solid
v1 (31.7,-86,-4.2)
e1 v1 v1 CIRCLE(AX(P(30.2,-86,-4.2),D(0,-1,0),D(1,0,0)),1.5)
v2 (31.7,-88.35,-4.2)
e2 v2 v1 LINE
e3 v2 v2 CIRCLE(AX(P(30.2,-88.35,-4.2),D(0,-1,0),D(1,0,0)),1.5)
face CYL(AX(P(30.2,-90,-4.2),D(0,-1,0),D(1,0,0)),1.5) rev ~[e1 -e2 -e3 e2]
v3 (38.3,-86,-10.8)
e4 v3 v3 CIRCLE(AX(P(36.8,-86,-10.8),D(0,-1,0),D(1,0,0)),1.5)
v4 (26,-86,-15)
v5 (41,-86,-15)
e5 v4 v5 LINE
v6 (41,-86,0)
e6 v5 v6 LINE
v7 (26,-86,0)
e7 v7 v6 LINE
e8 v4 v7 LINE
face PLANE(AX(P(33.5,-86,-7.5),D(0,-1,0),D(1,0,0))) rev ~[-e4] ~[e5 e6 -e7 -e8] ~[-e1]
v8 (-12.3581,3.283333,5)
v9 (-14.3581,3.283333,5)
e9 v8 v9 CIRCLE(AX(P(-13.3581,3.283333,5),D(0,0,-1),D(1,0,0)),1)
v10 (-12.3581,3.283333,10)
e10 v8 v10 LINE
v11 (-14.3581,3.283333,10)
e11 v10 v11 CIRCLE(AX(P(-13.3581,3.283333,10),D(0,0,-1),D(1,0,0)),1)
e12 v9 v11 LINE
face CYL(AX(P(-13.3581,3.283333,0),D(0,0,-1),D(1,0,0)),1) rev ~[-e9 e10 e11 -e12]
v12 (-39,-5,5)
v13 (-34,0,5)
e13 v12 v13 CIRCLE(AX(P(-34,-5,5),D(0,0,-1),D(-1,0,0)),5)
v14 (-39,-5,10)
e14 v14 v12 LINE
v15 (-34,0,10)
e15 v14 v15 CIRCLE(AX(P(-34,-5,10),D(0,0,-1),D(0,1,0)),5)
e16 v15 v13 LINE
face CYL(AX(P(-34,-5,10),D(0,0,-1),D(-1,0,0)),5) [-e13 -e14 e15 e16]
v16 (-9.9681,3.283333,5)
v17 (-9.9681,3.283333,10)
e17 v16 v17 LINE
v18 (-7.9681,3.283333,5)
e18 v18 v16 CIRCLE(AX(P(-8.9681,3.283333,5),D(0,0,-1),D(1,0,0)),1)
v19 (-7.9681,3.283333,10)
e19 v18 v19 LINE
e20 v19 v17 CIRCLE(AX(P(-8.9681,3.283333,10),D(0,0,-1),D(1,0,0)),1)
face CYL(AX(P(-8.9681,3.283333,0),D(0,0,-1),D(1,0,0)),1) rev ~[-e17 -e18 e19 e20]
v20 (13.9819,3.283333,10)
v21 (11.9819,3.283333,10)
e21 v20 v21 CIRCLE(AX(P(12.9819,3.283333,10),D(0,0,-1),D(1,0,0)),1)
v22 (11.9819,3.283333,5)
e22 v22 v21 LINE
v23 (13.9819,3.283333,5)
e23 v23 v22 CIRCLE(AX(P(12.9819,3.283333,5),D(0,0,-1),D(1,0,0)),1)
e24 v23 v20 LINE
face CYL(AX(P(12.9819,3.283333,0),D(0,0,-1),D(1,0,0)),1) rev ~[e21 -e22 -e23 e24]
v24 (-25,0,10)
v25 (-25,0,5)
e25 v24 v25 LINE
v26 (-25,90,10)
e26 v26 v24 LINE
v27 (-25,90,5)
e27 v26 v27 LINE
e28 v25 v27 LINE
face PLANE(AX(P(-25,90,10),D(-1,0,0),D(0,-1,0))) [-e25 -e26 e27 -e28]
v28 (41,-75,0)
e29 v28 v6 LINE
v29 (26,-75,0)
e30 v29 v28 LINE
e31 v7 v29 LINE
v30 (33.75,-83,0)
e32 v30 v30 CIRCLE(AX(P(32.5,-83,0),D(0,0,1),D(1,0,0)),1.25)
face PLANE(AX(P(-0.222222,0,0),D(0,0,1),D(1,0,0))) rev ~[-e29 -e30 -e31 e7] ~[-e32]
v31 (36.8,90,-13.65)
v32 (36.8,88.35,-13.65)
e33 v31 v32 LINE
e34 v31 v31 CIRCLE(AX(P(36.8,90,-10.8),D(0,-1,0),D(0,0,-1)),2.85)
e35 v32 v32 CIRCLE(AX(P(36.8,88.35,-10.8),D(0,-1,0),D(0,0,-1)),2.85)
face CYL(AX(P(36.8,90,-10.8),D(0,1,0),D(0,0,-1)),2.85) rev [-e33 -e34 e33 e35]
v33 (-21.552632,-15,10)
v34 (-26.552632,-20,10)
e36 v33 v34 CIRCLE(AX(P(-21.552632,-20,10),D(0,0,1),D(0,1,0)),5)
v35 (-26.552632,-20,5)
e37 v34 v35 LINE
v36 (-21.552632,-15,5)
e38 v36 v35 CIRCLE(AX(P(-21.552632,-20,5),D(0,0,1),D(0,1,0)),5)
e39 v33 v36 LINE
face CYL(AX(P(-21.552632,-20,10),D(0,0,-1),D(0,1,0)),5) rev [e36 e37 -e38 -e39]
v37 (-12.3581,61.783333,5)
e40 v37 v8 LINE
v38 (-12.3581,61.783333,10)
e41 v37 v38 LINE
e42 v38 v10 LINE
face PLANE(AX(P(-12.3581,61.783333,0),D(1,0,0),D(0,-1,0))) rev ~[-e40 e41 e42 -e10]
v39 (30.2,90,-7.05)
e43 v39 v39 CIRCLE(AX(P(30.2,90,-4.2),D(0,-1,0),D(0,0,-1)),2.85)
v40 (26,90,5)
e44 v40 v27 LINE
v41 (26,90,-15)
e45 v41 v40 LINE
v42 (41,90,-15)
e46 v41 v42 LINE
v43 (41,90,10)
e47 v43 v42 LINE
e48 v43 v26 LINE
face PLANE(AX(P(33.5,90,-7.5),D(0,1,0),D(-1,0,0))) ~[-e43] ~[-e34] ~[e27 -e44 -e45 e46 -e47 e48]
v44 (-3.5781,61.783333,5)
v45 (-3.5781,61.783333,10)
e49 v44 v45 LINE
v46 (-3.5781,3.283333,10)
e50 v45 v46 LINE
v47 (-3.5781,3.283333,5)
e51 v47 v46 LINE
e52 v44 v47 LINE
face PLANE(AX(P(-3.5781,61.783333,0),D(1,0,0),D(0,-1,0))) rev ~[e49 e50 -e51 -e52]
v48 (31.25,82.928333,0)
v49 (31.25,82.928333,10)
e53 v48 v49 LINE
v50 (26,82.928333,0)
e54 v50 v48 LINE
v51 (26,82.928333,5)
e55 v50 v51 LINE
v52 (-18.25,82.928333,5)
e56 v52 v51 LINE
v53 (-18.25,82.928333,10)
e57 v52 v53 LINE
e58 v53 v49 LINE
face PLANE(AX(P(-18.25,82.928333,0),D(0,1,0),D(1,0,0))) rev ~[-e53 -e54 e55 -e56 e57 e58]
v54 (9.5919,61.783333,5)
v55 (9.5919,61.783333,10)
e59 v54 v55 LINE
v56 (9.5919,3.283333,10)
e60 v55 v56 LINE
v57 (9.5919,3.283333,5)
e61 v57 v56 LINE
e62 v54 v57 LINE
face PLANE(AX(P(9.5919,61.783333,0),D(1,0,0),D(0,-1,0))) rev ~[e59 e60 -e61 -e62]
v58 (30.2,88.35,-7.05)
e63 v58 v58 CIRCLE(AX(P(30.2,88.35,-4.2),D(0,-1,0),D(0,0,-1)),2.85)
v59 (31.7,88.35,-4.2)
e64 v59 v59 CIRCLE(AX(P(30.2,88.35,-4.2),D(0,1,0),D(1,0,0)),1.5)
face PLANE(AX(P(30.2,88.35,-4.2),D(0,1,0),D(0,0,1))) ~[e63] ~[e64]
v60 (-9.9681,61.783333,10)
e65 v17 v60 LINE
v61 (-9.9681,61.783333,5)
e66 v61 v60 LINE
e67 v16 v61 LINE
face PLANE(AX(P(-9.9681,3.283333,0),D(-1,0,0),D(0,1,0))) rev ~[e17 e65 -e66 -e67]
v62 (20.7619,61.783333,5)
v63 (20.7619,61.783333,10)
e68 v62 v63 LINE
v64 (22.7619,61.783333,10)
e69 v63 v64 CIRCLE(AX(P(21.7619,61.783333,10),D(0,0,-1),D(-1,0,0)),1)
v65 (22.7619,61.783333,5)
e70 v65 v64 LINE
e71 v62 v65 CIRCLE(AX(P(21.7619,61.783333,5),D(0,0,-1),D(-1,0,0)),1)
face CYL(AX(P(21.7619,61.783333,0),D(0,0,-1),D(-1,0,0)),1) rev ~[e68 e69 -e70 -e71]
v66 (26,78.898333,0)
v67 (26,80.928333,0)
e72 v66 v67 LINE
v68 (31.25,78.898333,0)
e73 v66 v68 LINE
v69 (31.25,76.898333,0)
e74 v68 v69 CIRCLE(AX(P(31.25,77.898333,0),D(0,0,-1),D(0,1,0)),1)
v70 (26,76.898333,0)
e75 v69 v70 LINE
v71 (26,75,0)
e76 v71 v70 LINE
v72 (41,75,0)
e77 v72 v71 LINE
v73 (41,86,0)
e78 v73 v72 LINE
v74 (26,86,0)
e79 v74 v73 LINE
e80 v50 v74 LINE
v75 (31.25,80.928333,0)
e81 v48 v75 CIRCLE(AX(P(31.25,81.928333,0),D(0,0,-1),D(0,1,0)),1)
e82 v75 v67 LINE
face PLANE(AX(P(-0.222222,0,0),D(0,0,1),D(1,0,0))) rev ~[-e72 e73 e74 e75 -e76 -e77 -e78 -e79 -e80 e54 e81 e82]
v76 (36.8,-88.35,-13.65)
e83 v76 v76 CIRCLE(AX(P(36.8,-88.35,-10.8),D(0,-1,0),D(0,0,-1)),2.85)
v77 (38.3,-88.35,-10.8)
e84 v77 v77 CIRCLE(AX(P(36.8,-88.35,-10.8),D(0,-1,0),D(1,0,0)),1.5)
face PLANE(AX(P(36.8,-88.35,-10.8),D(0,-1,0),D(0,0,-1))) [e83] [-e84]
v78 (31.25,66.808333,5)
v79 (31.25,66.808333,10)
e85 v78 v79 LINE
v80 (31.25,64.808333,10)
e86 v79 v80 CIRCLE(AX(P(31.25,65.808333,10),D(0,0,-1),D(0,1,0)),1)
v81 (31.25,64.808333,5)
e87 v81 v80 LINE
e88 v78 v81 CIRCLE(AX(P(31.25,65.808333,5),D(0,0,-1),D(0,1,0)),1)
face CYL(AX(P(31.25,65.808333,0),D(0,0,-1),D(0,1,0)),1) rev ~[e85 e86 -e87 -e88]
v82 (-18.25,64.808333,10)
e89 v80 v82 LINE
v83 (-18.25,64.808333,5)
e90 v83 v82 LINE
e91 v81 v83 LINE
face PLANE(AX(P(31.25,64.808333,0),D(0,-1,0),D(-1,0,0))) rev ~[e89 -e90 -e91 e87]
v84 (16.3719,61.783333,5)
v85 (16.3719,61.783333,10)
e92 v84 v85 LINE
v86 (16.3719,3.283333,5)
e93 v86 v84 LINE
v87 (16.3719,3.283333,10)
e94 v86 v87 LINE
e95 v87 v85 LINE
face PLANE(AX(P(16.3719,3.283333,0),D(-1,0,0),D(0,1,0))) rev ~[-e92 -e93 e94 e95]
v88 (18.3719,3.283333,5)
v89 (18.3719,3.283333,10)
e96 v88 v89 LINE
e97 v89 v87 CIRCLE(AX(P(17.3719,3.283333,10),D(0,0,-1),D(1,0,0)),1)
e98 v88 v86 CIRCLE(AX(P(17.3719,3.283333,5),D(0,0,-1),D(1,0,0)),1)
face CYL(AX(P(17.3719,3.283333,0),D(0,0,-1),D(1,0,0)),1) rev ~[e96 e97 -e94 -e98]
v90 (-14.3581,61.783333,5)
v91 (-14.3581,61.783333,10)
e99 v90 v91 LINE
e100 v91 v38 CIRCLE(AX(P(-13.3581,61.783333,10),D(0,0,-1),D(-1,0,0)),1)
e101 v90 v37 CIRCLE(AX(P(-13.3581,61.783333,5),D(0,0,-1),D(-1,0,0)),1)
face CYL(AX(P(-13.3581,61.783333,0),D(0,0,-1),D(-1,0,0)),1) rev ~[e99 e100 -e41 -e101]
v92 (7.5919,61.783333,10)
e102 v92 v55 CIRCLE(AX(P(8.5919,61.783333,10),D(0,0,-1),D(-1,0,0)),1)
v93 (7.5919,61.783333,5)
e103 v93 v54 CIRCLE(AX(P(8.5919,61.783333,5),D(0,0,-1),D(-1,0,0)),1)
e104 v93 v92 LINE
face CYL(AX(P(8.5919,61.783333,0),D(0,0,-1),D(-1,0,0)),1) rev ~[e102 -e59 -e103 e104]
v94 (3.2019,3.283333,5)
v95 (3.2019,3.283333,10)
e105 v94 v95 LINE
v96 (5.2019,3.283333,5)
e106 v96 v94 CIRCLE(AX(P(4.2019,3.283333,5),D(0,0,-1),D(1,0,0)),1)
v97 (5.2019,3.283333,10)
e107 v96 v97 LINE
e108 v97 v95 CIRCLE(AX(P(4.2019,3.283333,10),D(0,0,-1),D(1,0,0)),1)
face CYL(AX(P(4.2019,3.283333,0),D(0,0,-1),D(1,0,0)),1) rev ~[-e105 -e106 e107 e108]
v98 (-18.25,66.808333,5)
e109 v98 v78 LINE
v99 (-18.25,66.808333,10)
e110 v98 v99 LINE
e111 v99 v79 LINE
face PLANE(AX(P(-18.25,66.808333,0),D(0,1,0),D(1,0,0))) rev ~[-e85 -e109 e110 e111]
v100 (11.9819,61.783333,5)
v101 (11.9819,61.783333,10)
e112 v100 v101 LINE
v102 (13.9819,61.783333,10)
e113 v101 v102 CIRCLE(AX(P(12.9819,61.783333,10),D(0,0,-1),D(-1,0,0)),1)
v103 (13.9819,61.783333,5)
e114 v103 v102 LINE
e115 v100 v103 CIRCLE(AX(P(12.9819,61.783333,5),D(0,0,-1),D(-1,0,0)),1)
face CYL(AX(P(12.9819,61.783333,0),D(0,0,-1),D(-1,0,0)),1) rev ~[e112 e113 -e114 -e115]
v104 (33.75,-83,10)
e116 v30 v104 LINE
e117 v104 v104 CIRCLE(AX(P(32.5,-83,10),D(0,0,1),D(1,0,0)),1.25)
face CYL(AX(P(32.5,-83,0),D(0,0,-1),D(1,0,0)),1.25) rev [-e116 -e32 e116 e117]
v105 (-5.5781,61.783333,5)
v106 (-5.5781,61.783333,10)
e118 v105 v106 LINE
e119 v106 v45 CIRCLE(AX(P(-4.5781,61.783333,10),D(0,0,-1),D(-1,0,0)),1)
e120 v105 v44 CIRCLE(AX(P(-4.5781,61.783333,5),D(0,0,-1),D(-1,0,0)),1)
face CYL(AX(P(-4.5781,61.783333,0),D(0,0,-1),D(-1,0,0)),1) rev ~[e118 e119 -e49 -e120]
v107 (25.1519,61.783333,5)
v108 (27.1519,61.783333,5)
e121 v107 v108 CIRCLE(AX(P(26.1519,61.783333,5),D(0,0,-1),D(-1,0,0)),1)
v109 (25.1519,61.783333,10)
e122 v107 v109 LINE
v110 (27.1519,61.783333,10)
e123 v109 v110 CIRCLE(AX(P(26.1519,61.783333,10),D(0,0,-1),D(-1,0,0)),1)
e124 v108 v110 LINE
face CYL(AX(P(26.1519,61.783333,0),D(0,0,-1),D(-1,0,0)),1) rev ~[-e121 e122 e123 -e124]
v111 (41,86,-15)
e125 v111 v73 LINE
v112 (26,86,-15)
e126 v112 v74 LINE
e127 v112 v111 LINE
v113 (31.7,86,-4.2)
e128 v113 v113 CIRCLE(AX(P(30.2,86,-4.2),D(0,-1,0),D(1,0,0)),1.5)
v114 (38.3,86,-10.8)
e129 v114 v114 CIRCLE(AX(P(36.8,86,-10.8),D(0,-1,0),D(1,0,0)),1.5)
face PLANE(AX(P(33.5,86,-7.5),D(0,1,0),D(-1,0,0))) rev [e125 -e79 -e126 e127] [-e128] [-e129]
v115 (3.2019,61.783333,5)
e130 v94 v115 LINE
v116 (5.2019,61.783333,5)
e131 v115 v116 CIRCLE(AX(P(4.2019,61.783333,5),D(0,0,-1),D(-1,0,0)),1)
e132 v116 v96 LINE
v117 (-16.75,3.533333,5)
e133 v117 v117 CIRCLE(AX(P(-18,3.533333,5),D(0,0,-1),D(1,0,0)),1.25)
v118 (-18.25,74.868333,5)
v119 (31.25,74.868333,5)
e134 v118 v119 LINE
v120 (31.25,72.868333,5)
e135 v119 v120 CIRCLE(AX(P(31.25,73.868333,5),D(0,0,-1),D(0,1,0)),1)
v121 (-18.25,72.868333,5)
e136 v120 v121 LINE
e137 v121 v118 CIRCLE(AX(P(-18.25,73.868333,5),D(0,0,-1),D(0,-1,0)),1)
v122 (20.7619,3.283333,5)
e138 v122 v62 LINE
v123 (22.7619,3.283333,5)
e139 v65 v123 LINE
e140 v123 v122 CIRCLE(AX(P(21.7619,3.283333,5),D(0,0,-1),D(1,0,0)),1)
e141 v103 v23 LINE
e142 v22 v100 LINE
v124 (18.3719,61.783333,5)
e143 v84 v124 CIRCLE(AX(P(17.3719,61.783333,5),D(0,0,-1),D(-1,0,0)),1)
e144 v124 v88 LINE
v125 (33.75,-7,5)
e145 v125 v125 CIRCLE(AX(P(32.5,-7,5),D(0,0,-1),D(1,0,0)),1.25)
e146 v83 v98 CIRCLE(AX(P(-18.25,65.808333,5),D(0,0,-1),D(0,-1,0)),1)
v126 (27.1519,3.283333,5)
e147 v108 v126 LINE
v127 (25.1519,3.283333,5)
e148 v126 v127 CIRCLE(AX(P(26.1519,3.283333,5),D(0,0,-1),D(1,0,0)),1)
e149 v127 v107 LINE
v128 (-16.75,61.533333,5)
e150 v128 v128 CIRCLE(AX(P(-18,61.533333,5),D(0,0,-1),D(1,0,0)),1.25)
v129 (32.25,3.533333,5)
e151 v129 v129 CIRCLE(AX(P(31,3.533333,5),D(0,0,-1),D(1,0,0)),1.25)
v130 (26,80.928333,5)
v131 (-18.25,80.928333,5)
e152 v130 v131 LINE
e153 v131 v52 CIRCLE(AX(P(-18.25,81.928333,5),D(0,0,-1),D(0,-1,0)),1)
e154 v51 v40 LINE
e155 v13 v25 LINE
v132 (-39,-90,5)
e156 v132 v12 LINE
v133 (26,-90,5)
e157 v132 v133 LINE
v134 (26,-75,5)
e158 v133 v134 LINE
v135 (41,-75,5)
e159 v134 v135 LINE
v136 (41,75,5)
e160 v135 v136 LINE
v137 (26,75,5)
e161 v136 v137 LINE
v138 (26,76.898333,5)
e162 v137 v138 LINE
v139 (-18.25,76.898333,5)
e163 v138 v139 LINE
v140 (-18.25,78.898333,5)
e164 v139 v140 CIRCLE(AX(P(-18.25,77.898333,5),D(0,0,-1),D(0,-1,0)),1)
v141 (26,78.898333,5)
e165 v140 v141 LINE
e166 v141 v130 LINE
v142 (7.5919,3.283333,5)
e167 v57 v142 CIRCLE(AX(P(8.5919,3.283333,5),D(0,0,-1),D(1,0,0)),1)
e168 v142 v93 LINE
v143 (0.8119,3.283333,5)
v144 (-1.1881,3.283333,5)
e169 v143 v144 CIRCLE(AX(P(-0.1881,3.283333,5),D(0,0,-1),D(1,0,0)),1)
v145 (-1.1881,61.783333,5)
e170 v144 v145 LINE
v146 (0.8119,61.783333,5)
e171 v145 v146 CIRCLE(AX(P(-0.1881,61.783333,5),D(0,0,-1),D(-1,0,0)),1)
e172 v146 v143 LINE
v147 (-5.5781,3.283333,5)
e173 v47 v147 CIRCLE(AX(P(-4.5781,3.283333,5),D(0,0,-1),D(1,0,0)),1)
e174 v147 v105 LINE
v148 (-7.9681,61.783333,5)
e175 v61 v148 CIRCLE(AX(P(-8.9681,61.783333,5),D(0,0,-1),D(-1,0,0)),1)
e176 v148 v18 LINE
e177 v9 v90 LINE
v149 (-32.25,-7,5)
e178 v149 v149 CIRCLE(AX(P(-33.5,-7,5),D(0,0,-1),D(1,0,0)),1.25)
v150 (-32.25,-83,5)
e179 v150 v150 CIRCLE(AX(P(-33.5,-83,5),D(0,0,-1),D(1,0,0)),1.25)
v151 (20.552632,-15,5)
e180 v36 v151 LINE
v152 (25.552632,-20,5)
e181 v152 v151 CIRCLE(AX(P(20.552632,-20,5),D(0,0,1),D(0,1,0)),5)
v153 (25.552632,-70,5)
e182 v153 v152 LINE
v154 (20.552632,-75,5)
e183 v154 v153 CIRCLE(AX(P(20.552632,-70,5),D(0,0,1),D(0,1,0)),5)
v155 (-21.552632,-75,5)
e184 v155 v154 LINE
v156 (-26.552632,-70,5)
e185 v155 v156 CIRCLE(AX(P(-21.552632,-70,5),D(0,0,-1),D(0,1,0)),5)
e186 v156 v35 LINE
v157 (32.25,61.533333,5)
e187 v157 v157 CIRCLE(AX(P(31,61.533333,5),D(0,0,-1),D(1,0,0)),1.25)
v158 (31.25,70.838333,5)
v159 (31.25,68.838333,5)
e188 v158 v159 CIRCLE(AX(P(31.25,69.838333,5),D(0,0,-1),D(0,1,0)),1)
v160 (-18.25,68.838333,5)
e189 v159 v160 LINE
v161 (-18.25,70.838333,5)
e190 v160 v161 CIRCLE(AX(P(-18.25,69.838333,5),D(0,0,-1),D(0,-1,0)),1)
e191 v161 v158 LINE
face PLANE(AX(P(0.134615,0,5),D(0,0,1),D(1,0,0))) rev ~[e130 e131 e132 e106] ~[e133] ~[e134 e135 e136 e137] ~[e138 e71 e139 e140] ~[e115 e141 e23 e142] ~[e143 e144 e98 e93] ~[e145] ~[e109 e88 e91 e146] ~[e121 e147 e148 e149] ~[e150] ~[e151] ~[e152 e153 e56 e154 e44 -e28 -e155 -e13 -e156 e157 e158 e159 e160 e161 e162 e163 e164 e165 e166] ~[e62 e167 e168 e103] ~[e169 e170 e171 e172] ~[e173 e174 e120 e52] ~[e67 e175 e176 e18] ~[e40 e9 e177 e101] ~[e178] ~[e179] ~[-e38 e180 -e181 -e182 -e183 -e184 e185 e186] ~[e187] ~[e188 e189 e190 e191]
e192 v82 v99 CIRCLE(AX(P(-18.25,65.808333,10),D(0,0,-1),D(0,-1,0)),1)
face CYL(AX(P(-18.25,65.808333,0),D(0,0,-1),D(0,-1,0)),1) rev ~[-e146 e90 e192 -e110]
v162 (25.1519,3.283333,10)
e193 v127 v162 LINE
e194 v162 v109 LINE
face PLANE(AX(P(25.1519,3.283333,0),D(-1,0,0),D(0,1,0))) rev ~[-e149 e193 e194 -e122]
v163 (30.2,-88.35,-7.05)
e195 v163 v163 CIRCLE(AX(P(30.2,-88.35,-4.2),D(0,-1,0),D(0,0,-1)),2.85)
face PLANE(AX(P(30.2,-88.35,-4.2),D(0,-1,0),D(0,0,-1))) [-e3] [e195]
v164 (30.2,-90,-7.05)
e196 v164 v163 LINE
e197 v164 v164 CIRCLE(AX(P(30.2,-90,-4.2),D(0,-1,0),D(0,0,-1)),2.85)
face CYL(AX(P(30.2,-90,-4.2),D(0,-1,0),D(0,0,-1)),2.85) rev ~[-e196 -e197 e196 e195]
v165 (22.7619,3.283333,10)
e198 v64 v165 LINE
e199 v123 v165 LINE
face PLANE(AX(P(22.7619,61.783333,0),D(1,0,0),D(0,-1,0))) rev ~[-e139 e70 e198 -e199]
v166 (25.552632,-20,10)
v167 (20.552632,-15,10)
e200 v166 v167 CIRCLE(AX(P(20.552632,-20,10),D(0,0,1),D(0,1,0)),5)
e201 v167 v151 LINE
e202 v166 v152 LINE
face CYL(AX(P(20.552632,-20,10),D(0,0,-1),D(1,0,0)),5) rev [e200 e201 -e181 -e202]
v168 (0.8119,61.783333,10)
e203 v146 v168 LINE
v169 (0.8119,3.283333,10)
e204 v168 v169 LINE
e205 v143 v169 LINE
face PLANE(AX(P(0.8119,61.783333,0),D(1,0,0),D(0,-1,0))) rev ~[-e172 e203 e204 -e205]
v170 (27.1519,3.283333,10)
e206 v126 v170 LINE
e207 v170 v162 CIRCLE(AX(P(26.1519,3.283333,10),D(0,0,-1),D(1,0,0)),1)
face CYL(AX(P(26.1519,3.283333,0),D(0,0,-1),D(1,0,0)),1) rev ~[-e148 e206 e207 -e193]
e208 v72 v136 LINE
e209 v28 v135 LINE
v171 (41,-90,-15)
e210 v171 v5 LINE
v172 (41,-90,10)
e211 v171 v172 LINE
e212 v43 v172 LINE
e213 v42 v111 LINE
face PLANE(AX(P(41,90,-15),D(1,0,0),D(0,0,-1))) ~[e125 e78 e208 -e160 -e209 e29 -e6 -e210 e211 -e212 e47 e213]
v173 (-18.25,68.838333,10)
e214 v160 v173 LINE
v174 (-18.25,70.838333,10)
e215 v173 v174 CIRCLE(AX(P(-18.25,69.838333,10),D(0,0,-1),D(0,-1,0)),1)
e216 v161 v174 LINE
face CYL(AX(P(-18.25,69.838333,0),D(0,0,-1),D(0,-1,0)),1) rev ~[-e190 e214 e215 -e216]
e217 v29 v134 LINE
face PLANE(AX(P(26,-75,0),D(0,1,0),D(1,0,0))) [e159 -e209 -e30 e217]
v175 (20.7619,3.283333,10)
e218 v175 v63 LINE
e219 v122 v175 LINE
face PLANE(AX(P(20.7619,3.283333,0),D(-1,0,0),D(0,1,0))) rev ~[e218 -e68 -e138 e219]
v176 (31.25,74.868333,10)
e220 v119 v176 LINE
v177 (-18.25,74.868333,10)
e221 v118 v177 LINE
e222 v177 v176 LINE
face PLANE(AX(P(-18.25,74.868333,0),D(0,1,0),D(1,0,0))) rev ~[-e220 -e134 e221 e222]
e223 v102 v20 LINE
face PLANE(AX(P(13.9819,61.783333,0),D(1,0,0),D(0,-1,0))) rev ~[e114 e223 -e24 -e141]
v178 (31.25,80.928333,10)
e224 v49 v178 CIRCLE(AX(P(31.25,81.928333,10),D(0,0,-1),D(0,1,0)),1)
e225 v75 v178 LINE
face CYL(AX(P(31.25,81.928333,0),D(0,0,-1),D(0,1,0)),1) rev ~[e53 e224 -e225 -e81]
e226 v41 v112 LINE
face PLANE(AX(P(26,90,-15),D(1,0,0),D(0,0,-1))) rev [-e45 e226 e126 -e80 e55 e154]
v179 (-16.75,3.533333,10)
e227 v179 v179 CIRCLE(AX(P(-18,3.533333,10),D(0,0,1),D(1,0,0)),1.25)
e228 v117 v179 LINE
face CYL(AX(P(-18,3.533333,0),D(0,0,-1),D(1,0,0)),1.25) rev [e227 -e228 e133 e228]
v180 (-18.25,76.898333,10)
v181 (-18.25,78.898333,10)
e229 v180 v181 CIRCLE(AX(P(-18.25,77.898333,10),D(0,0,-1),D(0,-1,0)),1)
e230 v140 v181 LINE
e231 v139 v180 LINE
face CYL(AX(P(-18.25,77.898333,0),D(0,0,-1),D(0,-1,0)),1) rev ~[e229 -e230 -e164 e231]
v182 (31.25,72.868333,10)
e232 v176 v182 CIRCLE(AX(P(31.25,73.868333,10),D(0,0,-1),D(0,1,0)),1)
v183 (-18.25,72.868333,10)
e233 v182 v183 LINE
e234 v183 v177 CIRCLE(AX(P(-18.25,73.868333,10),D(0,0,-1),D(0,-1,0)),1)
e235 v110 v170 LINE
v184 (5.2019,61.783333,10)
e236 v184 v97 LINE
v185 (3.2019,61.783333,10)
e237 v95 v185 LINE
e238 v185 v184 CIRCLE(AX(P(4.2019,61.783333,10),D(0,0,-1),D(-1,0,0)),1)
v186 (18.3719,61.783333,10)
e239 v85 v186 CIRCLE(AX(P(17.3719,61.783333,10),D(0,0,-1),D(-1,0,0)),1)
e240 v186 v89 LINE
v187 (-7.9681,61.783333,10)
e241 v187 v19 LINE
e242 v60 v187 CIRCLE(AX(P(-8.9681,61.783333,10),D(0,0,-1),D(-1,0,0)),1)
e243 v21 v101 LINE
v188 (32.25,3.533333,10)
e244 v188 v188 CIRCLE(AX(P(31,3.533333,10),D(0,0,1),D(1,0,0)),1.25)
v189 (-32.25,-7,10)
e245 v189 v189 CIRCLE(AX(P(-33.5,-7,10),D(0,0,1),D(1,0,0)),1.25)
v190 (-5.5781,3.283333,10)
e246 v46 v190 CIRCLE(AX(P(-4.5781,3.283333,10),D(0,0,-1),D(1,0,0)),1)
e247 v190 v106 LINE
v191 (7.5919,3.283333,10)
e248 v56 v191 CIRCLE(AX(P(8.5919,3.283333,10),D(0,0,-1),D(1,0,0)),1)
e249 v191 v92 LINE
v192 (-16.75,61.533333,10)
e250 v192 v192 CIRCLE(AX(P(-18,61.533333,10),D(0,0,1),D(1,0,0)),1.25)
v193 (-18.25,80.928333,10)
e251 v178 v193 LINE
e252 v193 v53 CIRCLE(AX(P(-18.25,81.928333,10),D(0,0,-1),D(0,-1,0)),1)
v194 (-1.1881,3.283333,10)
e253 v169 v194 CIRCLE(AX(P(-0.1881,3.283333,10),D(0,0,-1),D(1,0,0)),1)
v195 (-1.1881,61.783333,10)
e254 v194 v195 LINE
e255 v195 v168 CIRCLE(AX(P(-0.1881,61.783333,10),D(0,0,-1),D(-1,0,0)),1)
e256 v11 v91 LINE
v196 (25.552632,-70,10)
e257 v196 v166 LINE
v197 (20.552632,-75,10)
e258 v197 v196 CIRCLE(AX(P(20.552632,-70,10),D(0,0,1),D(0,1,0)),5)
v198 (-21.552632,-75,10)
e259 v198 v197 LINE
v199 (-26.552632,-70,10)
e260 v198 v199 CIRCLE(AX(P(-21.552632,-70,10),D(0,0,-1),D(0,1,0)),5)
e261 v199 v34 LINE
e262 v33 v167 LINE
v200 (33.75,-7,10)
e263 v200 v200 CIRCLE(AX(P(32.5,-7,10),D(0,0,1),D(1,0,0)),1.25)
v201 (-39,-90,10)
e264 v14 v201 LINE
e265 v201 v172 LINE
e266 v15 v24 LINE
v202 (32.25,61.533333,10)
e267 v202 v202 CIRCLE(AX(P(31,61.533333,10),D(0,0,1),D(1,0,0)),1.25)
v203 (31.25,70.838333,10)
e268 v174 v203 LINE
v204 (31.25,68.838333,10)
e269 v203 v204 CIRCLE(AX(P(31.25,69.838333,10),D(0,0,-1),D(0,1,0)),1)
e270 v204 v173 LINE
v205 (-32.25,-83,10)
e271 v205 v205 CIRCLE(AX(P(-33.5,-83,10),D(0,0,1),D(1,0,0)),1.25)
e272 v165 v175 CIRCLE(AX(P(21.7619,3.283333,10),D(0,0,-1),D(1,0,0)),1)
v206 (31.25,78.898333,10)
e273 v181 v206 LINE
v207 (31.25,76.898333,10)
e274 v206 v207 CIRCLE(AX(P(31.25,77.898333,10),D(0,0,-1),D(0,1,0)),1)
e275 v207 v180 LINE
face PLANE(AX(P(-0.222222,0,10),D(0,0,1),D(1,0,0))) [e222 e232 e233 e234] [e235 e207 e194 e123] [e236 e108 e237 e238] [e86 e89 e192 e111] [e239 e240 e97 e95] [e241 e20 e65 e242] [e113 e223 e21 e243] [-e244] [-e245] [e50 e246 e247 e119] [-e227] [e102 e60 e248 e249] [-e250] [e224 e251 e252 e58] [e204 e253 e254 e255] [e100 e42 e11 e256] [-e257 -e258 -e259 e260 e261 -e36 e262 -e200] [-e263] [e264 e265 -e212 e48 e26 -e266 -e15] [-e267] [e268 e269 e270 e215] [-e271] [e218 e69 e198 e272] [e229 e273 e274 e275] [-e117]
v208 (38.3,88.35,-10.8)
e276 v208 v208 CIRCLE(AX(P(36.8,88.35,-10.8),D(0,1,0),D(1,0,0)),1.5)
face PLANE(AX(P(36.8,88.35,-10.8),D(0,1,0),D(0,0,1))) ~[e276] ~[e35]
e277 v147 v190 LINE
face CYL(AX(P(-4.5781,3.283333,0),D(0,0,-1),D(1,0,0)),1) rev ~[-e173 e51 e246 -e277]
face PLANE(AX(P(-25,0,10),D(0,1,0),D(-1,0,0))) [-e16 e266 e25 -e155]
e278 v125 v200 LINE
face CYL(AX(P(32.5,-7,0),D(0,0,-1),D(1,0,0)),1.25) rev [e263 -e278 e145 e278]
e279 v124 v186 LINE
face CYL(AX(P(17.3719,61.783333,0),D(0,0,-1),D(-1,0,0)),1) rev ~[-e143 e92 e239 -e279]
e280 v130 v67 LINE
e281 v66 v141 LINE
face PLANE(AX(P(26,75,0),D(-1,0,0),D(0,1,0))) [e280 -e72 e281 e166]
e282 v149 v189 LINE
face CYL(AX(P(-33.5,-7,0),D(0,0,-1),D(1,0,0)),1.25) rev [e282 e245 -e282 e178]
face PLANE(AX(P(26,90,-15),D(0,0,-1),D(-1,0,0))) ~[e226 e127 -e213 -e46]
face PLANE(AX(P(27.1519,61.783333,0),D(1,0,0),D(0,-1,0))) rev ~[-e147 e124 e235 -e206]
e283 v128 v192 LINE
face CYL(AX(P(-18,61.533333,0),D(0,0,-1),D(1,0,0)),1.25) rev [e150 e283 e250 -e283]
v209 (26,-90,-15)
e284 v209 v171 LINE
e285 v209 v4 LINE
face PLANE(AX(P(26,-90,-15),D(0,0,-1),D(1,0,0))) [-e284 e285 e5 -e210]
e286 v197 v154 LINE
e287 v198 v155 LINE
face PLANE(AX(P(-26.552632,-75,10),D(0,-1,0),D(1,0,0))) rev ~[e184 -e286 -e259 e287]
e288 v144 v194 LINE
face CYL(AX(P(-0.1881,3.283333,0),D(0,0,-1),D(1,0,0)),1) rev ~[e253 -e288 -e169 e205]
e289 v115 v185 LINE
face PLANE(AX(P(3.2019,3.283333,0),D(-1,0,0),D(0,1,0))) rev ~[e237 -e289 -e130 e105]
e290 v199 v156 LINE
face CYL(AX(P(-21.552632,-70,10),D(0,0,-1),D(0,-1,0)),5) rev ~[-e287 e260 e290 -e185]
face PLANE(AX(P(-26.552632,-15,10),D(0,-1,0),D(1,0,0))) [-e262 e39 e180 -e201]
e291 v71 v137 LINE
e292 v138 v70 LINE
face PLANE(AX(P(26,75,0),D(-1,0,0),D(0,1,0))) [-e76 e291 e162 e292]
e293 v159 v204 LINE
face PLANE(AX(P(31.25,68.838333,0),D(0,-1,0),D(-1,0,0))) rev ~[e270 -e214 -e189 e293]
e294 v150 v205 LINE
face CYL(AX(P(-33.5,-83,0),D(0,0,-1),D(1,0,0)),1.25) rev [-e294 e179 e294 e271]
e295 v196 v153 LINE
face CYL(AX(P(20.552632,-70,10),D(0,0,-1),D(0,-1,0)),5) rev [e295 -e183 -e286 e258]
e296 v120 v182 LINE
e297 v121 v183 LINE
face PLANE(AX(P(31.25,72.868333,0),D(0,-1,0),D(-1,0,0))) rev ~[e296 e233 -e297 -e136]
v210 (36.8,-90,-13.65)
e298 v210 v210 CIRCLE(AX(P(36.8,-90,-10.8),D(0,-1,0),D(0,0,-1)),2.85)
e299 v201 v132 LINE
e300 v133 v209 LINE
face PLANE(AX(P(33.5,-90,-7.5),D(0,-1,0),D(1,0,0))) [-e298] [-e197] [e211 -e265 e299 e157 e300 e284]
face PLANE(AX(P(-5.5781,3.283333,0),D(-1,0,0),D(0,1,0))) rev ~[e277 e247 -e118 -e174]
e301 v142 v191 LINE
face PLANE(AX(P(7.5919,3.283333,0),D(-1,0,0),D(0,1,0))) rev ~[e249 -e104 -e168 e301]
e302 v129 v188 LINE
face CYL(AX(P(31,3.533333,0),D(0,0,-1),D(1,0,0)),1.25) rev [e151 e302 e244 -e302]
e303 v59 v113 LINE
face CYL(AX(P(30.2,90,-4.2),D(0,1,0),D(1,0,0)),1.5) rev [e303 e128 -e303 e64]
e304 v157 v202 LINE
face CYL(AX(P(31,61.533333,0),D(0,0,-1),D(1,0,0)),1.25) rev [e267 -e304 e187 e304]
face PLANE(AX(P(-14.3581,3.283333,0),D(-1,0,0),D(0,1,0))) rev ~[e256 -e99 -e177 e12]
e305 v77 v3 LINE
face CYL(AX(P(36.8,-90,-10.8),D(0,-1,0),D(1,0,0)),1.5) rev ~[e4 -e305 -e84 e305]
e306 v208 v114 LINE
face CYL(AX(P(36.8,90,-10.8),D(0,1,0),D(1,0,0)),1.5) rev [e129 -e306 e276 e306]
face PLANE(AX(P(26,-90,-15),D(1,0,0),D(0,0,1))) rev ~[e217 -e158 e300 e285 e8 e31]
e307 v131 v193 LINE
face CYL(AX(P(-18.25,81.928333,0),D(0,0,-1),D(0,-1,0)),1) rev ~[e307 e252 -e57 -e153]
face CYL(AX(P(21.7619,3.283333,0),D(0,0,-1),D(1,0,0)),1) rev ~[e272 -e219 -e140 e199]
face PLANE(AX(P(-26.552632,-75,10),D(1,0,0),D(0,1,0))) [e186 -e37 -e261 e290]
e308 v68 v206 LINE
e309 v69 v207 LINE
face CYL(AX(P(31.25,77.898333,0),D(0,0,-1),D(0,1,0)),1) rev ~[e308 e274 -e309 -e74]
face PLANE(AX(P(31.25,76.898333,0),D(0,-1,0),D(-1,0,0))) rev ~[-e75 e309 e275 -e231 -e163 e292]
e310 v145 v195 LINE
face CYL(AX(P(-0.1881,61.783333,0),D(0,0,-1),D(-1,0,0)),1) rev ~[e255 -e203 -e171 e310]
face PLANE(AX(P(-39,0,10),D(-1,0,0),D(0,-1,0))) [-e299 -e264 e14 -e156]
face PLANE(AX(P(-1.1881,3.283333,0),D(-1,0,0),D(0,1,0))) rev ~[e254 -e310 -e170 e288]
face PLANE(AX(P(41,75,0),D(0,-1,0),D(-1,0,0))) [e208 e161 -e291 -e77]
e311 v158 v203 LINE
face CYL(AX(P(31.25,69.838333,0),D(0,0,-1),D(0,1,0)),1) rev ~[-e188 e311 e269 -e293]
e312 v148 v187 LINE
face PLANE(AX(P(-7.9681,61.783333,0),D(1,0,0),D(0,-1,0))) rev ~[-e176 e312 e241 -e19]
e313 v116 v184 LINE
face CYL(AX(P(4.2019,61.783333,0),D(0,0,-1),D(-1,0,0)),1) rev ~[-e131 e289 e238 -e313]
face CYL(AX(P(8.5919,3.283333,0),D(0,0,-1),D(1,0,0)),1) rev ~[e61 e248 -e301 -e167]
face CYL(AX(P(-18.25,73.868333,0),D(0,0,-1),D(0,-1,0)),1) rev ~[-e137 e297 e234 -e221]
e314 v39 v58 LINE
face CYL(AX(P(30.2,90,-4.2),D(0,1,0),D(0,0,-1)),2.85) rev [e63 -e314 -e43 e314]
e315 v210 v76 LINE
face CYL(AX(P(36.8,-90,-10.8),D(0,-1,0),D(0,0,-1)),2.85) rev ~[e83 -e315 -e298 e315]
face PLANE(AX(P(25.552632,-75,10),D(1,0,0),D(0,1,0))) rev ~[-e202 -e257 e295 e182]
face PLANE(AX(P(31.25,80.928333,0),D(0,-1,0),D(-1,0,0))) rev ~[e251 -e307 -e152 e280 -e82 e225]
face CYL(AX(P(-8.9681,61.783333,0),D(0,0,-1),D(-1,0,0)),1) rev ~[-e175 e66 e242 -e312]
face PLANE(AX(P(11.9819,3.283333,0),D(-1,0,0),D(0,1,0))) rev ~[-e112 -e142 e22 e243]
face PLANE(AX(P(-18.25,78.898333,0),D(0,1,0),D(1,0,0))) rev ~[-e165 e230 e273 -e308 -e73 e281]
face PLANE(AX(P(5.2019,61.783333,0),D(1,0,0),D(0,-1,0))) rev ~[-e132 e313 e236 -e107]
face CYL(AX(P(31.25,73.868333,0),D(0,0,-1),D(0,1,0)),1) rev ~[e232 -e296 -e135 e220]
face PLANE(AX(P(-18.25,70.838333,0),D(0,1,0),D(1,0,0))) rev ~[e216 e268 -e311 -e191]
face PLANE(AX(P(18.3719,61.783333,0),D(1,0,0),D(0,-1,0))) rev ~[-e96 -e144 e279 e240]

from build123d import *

# Parameters (mm, degrees)
CROQUIS1_R              = 1.25
SALIENTE_EXTRUIR2_DEPTH = 10
CROQUIS2_W              = 15
CROQUIS2_H              = 15
CROQUIS2_R              = 1.5
SALIENTE_EXTRUIR3_DEPTH = 4
CROQUIS3_R              = 2.85
CORTAR_EXTRUIR1_DEPTH   = 1.65
CORTAR_EXTRUIR2_REACH   = 173.683
CROQUIS4_W              = 4
CROQUIS4_H              = 10
CORTAR_EXTRUIR3_REACH   = 105.682
REDONDEO1_R             = 5
CORTAR_EXTRUIR5_DEPTH   = 5
CROQUIS8_W              = 52.105263158
CROQUIS8_H              = 60
CORTAR_EXTRUIR6_DEPTH   = 5
REDONDEO2_R             = 5


with BuildPart() as part:
    # Croquis1 → Saliente-Extruir2 (new body)
    with BuildSketch(Plane.XY):
        Polygon((-45, -90), (41, -90), (41, -75), (45, -75), (45, 75), (41, 75), (41, 90), (-45, 90), align=None)
        with Locations((-33.5, -83)):
            Circle(CROQUIS1_R, mode=Mode.SUBTRACT)
        with Locations((-33.5, -7)):
            Circle(CROQUIS1_R, mode=Mode.SUBTRACT)
        with Locations((32.5, -83)):
            Circle(CROQUIS1_R, mode=Mode.SUBTRACT)
        with Locations((32.5, -7)):
            Circle(CROQUIS1_R, mode=Mode.SUBTRACT)
        with Locations((-18, 3.533333333)):
            Circle(CROQUIS1_R, mode=Mode.SUBTRACT)
        with BuildLine():
            ThreePointArc((-14.3581, 61.783333333), (-13.3581, 62.783333333), (-12.3581, 61.783333333))
            Line((-12.3581, 61.783333333), (-12.3581, 3.283333333))
            ThreePointArc((-12.3581, 3.283333333), (-13.3581, 2.283333333), (-14.3581, 3.283333333))
            Line((-14.3581, 3.283333333), (-14.3581, 61.783333333))
        make_face(mode=Mode.SUBTRACT)
        with BuildLine():
            ThreePointArc((-9.9681, 61.783333333), (-8.9681, 62.783333333), (-7.9681, 61.783333333))
            Line((-7.9681, 61.783333333), (-7.9681, 3.283333333))
            ThreePointArc((-7.9681, 3.283333333), (-8.9681, 2.283333333), (-9.9681, 3.283333333))
            Line((-9.9681, 3.283333333), (-9.9681, 61.783333333))
        make_face(mode=Mode.SUBTRACT)
        with BuildLine():
            ThreePointArc((-5.5781, 61.783333333), (-4.5781, 62.783333333), (-3.5781, 61.783333333))
            Line((-3.5781, 61.783333333), (-3.5781, 3.283333333))
            ThreePointArc((-3.5781, 3.283333333), (-4.5781, 2.283333333), (-5.5781, 3.283333333))
            Line((-5.5781, 3.283333333), (-5.5781, 61.783333333))
        make_face(mode=Mode.SUBTRACT)
        with BuildLine():
            Line((-27.5, 81.033333333), (-27.5, 4))
            ThreePointArc((-27.5, 4), (-31.5, 0), (-35.5, 4))
            Line((-35.5, 4), (-35.5, 81.033333333))
            ThreePointArc((-35.5, 81.033333333), (-31.5, 85.033333333), (-27.5, 81.033333333))
        make_face(mode=Mode.SUBTRACT)
        with Locations((-18, 61.533333333)):
            Circle(CROQUIS1_R, mode=Mode.SUBTRACT)
        with BuildLine():
            ThreePointArc((-1.1881, 61.783333333), (-0.1881, 62.783333333), (0.8119, 61.783333333))
            Line((0.8119, 61.783333333), (0.8119, 3.283333333))
            ThreePointArc((0.8119, 3.283333333), (-0.1881, 2.283333333), (-1.1881, 3.283333333))
            Line((-1.1881, 3.283333333), (-1.1881, 61.783333333))
        make_face(mode=Mode.SUBTRACT)
        with BuildLine():
            ThreePointArc((3.2019, 61.783333333), (4.2019, 62.783333333), (5.2019, 61.783333333))
            Line((5.2019, 61.783333333), (5.2019, 3.283333333))
            ThreePointArc((5.2019, 3.283333333), (4.2019, 2.283333333), (3.2019, 3.283333333))
            Line((3.2019, 3.283333333), (3.2019, 61.783333333))
        make_face(mode=Mode.SUBTRACT)
        with BuildLine():
            ThreePointArc((7.5919, 61.783333333), (8.5919, 62.783333333), (9.5919, 61.783333333))
            Line((9.5919, 61.783333333), (9.5919, 3.283333333))
            ThreePointArc((9.5919, 3.283333333), (8.5919, 2.283333333), (7.5919, 3.283333333))
            Line((7.5919, 3.283333333), (7.5919, 61.783333333))
        make_face(mode=Mode.SUBTRACT)
        with BuildLine():
            ThreePointArc((11.9819, 61.783333333), (12.9819, 62.783333333), (13.9819, 61.783333333))
            Line((13.9819, 61.783333333), (13.9819, 3.283333333))
            ThreePointArc((13.9819, 3.283333333), (12.9819, 2.283333333), (11.9819, 3.283333333))
            Line((11.9819, 3.283333333), (11.9819, 61.783333333))
        make_face(mode=Mode.SUBTRACT)
        with Locations((31, 3.533333333)):
            Circle(CROQUIS1_R, mode=Mode.SUBTRACT)
        with BuildLine():
            Line((18.3719, 61.783333333), (18.3719, 3.283333333))
            ThreePointArc((18.3719, 3.283333333), (17.3719, 2.283333333), (16.3719, 3.283333333))
            Line((16.3719, 3.283333333), (16.3719, 61.783333333))
            ThreePointArc((16.3719, 61.783333333), (17.3719, 62.783333333), (18.3719, 61.783333333))
        make_face(mode=Mode.SUBTRACT)
        with BuildLine():
            Line((22.7619, 61.783333333), (22.7619, 3.283333333))
            ThreePointArc((22.7619, 3.283333333), (21.7619, 2.283333333), (20.7619, 3.283333333))
            Line((20.7619, 3.283333333), (20.7619, 61.783333333))
            ThreePointArc((20.7619, 61.783333333), (21.7619, 62.783333333), (22.7619, 61.783333333))
        make_face(mode=Mode.SUBTRACT)
        with BuildLine():
            Line((27.1519, 61.783333333), (27.1519, 3.283333333))
            ThreePointArc((27.1519, 3.283333333), (26.1519, 2.283333333), (25.1519, 3.283333333))
            Line((25.1519, 3.283333333), (25.1519, 61.783333333))
            ThreePointArc((25.1519, 61.783333333), (26.1519, 62.783333333), (27.1519, 61.783333333))
        make_face(mode=Mode.SUBTRACT)
        with BuildLine():
            ThreePointArc((-18.25, 64.808333333), (-19.25, 65.808333333), (-18.25, 66.808333333))
            Line((-18.25, 66.808333333), (31.25, 66.808333333))
            ThreePointArc((31.25, 66.808333333), (32.25, 65.808333333), (31.25, 64.808333333))
            Line((31.25, 64.808333333), (-18.25, 64.808333333))
        make_face(mode=Mode.SUBTRACT)
        with BuildLine():
            ThreePointArc((-18.25, 68.838333333), (-19.25, 69.838333333), (-18.25, 70.838333333))
            Line((-18.25, 70.838333333), (31.25, 70.838333333))
            ThreePointArc((31.25, 70.838333333), (32.25, 69.838333333), (31.25, 68.838333333))
            Line((31.25, 68.838333333), (-18.25, 68.838333333))
        make_face(mode=Mode.SUBTRACT)
        with BuildLine():
            ThreePointArc((-18.25, 72.868333333), (-19.25, 73.868333333), (-18.25, 74.868333333))
            Line((-18.25, 74.868333333), (31.25, 74.868333333))
            ThreePointArc((31.25, 74.868333333), (32.25, 73.868333333), (31.25, 72.868333333))
            Line((31.25, 72.868333333), (-18.25, 72.868333333))
        make_face(mode=Mode.SUBTRACT)
        with BuildLine():
            ThreePointArc((-18.25, 76.898333333), (-19.25, 77.898333333), (-18.25, 78.898333333))
            Line((-18.25, 78.898333333), (31.25, 78.898333333))
            ThreePointArc((31.25, 78.898333333), (32.25, 77.898333333), (31.25, 76.898333333))
            Line((31.25, 76.898333333), (-18.25, 76.898333333))
        make_face(mode=Mode.SUBTRACT)
        with BuildLine():
            Line((-18.25, 82.928333333), (31.25, 82.928333333))
            ThreePointArc((31.25, 82.928333333), (32.25, 81.928333333), (31.25, 80.928333333))
            Line((31.25, 80.928333333), (-18.25, 80.928333333))
            ThreePointArc((-18.25, 80.928333333), (-19.25, 81.928333333), (-18.25, 82.928333333))
        make_face(mode=Mode.SUBTRACT)
        with Locations((31, 61.533333333)):
            Circle(CROQUIS1_R, mode=Mode.SUBTRACT)
    extrude(amount=SALIENTE_EXTRUIR2_DEPTH)

    # Croquis2 → Saliente-Extruir3 (add)
    with BuildSketch(Plane.XZ.offset(90)):
        with Locations((33.5, -7.5)):
            Rectangle(CROQUIS2_W, CROQUIS2_H)
        with Locations((36.8, -10.8)):
            Circle(CROQUIS2_R, mode=Mode.SUBTRACT)
        with Locations((30.2, -4.2)):
            Circle(CROQUIS2_R, mode=Mode.SUBTRACT)
    saliente_extruir3 = extrude(amount=-SALIENTE_EXTRUIR3_DEPTH)

    # Croquis3 → Cortar-Extruir1 (cut)
    with BuildSketch(Plane.XZ.offset(90)):
        with Locations(Location((30.2, -4.2, 0), (0, 0, 270))):
            Circle(CROQUIS3_R)
        with Locations(Location((36.8, -10.8, 0), (0, 0, 270))):
            Circle(CROQUIS3_R)
    cortar_extruir1 = extrude(amount=-CORTAR_EXTRUIR1_DEPTH, mode=Mode.SUBTRACT)

    # Simetría2: Saliente-Extruir3, Cortar-Extruir1 across plane
    add(saliente_extruir3.mirror(Plane.ZX))
    add(cortar_extruir1.mirror(Plane.ZX), mode=Mode.SUBTRACT)

    # Croquis4 → Cortar-Extruir2 (cut, up to next)
    with BuildSketch(Plane(origin=(0, 75, 0), x_dir=(1, 0, 0), z_dir=(0, 1, 0)), mode=Mode.PRIVATE) as cortar_extruir2_sk1:
        with Locations((43, -5)):
            Rectangle(CROQUIS4_W, CROQUIS4_H)
    cortar_extruir2_tool1 = extrude(cortar_extruir2_sk1.sketch, amount=-CORTAR_EXTRUIR2_REACH, mode=Mode.PRIVATE) & part.part
    add(cortar_extruir2_tool1.solids().sort_by_distance((43, 75, 5))[0], mode=Mode.SUBTRACT)

    # Croquis5 → Cortar-Extruir3 (cut, up to next)
    with BuildSketch(Plane.XY.offset(10), mode=Mode.PRIVATE) as cortar_extruir3_sk1:
        Polygon((-45, 90), (-25, 90), (-25, 0), (-39, 0), (-39, -90), (-45, -90), (-45, 0), align=None)
    cortar_extruir3_tool1 = extrude(cortar_extruir3_sk1.sketch, amount=-CORTAR_EXTRUIR3_REACH, mode=Mode.PRIVATE) & part.part
    add(cortar_extruir3_tool1.solids().sort_by_distance((-36.615385, 24.230769, 10))[0], mode=Mode.SUBTRACT)

    # Redondeo1
    redondeo1_edges = [part.edges().sort_by_distance(p)[0] for p in [
        (-39, 0, 5),
    ]]
    fillet(redondeo1_edges, radius=REDONDEO1_R)

    # Croquis7 → Cortar-Extruir5 (cut)
    with BuildSketch(Plane(origin=(0, 0, 0), x_dir=(-1, 0, 0), z_dir=(0, 0, -1))):
        Polygon((39, -75), (39, -90), (-26, -90), (-26, -75), (-41, -75), (-41, 75), (-26, 75), (-26, 90), (39, 90), (39, 75), align=None)
    extrude(amount=-CORTAR_EXTRUIR5_DEPTH, mode=Mode.SUBTRACT)

    # Croquis8 → Cortar-Extruir6 (cut)
    with BuildSketch(Plane.XY.offset(10)):
        with Locations((-0.5, -45)):
            Rectangle(CROQUIS8_W, CROQUIS8_H)
    extrude(amount=-CORTAR_EXTRUIR6_DEPTH, mode=Mode.SUBTRACT)

    # Redondeo2
    redondeo2_edges = [part.edges().sort_by_distance(p)[0] for p in [
        (-26.552631579, -75, 7.5),
        (-26.552631579, -15, 7.5),
        (25.552631579, -15, 7.5),
        (25.552631579, -75, 7.5),
    ]]
    fillet(redondeo2_edges, radius=REDONDEO2_R)


solid = part.part
